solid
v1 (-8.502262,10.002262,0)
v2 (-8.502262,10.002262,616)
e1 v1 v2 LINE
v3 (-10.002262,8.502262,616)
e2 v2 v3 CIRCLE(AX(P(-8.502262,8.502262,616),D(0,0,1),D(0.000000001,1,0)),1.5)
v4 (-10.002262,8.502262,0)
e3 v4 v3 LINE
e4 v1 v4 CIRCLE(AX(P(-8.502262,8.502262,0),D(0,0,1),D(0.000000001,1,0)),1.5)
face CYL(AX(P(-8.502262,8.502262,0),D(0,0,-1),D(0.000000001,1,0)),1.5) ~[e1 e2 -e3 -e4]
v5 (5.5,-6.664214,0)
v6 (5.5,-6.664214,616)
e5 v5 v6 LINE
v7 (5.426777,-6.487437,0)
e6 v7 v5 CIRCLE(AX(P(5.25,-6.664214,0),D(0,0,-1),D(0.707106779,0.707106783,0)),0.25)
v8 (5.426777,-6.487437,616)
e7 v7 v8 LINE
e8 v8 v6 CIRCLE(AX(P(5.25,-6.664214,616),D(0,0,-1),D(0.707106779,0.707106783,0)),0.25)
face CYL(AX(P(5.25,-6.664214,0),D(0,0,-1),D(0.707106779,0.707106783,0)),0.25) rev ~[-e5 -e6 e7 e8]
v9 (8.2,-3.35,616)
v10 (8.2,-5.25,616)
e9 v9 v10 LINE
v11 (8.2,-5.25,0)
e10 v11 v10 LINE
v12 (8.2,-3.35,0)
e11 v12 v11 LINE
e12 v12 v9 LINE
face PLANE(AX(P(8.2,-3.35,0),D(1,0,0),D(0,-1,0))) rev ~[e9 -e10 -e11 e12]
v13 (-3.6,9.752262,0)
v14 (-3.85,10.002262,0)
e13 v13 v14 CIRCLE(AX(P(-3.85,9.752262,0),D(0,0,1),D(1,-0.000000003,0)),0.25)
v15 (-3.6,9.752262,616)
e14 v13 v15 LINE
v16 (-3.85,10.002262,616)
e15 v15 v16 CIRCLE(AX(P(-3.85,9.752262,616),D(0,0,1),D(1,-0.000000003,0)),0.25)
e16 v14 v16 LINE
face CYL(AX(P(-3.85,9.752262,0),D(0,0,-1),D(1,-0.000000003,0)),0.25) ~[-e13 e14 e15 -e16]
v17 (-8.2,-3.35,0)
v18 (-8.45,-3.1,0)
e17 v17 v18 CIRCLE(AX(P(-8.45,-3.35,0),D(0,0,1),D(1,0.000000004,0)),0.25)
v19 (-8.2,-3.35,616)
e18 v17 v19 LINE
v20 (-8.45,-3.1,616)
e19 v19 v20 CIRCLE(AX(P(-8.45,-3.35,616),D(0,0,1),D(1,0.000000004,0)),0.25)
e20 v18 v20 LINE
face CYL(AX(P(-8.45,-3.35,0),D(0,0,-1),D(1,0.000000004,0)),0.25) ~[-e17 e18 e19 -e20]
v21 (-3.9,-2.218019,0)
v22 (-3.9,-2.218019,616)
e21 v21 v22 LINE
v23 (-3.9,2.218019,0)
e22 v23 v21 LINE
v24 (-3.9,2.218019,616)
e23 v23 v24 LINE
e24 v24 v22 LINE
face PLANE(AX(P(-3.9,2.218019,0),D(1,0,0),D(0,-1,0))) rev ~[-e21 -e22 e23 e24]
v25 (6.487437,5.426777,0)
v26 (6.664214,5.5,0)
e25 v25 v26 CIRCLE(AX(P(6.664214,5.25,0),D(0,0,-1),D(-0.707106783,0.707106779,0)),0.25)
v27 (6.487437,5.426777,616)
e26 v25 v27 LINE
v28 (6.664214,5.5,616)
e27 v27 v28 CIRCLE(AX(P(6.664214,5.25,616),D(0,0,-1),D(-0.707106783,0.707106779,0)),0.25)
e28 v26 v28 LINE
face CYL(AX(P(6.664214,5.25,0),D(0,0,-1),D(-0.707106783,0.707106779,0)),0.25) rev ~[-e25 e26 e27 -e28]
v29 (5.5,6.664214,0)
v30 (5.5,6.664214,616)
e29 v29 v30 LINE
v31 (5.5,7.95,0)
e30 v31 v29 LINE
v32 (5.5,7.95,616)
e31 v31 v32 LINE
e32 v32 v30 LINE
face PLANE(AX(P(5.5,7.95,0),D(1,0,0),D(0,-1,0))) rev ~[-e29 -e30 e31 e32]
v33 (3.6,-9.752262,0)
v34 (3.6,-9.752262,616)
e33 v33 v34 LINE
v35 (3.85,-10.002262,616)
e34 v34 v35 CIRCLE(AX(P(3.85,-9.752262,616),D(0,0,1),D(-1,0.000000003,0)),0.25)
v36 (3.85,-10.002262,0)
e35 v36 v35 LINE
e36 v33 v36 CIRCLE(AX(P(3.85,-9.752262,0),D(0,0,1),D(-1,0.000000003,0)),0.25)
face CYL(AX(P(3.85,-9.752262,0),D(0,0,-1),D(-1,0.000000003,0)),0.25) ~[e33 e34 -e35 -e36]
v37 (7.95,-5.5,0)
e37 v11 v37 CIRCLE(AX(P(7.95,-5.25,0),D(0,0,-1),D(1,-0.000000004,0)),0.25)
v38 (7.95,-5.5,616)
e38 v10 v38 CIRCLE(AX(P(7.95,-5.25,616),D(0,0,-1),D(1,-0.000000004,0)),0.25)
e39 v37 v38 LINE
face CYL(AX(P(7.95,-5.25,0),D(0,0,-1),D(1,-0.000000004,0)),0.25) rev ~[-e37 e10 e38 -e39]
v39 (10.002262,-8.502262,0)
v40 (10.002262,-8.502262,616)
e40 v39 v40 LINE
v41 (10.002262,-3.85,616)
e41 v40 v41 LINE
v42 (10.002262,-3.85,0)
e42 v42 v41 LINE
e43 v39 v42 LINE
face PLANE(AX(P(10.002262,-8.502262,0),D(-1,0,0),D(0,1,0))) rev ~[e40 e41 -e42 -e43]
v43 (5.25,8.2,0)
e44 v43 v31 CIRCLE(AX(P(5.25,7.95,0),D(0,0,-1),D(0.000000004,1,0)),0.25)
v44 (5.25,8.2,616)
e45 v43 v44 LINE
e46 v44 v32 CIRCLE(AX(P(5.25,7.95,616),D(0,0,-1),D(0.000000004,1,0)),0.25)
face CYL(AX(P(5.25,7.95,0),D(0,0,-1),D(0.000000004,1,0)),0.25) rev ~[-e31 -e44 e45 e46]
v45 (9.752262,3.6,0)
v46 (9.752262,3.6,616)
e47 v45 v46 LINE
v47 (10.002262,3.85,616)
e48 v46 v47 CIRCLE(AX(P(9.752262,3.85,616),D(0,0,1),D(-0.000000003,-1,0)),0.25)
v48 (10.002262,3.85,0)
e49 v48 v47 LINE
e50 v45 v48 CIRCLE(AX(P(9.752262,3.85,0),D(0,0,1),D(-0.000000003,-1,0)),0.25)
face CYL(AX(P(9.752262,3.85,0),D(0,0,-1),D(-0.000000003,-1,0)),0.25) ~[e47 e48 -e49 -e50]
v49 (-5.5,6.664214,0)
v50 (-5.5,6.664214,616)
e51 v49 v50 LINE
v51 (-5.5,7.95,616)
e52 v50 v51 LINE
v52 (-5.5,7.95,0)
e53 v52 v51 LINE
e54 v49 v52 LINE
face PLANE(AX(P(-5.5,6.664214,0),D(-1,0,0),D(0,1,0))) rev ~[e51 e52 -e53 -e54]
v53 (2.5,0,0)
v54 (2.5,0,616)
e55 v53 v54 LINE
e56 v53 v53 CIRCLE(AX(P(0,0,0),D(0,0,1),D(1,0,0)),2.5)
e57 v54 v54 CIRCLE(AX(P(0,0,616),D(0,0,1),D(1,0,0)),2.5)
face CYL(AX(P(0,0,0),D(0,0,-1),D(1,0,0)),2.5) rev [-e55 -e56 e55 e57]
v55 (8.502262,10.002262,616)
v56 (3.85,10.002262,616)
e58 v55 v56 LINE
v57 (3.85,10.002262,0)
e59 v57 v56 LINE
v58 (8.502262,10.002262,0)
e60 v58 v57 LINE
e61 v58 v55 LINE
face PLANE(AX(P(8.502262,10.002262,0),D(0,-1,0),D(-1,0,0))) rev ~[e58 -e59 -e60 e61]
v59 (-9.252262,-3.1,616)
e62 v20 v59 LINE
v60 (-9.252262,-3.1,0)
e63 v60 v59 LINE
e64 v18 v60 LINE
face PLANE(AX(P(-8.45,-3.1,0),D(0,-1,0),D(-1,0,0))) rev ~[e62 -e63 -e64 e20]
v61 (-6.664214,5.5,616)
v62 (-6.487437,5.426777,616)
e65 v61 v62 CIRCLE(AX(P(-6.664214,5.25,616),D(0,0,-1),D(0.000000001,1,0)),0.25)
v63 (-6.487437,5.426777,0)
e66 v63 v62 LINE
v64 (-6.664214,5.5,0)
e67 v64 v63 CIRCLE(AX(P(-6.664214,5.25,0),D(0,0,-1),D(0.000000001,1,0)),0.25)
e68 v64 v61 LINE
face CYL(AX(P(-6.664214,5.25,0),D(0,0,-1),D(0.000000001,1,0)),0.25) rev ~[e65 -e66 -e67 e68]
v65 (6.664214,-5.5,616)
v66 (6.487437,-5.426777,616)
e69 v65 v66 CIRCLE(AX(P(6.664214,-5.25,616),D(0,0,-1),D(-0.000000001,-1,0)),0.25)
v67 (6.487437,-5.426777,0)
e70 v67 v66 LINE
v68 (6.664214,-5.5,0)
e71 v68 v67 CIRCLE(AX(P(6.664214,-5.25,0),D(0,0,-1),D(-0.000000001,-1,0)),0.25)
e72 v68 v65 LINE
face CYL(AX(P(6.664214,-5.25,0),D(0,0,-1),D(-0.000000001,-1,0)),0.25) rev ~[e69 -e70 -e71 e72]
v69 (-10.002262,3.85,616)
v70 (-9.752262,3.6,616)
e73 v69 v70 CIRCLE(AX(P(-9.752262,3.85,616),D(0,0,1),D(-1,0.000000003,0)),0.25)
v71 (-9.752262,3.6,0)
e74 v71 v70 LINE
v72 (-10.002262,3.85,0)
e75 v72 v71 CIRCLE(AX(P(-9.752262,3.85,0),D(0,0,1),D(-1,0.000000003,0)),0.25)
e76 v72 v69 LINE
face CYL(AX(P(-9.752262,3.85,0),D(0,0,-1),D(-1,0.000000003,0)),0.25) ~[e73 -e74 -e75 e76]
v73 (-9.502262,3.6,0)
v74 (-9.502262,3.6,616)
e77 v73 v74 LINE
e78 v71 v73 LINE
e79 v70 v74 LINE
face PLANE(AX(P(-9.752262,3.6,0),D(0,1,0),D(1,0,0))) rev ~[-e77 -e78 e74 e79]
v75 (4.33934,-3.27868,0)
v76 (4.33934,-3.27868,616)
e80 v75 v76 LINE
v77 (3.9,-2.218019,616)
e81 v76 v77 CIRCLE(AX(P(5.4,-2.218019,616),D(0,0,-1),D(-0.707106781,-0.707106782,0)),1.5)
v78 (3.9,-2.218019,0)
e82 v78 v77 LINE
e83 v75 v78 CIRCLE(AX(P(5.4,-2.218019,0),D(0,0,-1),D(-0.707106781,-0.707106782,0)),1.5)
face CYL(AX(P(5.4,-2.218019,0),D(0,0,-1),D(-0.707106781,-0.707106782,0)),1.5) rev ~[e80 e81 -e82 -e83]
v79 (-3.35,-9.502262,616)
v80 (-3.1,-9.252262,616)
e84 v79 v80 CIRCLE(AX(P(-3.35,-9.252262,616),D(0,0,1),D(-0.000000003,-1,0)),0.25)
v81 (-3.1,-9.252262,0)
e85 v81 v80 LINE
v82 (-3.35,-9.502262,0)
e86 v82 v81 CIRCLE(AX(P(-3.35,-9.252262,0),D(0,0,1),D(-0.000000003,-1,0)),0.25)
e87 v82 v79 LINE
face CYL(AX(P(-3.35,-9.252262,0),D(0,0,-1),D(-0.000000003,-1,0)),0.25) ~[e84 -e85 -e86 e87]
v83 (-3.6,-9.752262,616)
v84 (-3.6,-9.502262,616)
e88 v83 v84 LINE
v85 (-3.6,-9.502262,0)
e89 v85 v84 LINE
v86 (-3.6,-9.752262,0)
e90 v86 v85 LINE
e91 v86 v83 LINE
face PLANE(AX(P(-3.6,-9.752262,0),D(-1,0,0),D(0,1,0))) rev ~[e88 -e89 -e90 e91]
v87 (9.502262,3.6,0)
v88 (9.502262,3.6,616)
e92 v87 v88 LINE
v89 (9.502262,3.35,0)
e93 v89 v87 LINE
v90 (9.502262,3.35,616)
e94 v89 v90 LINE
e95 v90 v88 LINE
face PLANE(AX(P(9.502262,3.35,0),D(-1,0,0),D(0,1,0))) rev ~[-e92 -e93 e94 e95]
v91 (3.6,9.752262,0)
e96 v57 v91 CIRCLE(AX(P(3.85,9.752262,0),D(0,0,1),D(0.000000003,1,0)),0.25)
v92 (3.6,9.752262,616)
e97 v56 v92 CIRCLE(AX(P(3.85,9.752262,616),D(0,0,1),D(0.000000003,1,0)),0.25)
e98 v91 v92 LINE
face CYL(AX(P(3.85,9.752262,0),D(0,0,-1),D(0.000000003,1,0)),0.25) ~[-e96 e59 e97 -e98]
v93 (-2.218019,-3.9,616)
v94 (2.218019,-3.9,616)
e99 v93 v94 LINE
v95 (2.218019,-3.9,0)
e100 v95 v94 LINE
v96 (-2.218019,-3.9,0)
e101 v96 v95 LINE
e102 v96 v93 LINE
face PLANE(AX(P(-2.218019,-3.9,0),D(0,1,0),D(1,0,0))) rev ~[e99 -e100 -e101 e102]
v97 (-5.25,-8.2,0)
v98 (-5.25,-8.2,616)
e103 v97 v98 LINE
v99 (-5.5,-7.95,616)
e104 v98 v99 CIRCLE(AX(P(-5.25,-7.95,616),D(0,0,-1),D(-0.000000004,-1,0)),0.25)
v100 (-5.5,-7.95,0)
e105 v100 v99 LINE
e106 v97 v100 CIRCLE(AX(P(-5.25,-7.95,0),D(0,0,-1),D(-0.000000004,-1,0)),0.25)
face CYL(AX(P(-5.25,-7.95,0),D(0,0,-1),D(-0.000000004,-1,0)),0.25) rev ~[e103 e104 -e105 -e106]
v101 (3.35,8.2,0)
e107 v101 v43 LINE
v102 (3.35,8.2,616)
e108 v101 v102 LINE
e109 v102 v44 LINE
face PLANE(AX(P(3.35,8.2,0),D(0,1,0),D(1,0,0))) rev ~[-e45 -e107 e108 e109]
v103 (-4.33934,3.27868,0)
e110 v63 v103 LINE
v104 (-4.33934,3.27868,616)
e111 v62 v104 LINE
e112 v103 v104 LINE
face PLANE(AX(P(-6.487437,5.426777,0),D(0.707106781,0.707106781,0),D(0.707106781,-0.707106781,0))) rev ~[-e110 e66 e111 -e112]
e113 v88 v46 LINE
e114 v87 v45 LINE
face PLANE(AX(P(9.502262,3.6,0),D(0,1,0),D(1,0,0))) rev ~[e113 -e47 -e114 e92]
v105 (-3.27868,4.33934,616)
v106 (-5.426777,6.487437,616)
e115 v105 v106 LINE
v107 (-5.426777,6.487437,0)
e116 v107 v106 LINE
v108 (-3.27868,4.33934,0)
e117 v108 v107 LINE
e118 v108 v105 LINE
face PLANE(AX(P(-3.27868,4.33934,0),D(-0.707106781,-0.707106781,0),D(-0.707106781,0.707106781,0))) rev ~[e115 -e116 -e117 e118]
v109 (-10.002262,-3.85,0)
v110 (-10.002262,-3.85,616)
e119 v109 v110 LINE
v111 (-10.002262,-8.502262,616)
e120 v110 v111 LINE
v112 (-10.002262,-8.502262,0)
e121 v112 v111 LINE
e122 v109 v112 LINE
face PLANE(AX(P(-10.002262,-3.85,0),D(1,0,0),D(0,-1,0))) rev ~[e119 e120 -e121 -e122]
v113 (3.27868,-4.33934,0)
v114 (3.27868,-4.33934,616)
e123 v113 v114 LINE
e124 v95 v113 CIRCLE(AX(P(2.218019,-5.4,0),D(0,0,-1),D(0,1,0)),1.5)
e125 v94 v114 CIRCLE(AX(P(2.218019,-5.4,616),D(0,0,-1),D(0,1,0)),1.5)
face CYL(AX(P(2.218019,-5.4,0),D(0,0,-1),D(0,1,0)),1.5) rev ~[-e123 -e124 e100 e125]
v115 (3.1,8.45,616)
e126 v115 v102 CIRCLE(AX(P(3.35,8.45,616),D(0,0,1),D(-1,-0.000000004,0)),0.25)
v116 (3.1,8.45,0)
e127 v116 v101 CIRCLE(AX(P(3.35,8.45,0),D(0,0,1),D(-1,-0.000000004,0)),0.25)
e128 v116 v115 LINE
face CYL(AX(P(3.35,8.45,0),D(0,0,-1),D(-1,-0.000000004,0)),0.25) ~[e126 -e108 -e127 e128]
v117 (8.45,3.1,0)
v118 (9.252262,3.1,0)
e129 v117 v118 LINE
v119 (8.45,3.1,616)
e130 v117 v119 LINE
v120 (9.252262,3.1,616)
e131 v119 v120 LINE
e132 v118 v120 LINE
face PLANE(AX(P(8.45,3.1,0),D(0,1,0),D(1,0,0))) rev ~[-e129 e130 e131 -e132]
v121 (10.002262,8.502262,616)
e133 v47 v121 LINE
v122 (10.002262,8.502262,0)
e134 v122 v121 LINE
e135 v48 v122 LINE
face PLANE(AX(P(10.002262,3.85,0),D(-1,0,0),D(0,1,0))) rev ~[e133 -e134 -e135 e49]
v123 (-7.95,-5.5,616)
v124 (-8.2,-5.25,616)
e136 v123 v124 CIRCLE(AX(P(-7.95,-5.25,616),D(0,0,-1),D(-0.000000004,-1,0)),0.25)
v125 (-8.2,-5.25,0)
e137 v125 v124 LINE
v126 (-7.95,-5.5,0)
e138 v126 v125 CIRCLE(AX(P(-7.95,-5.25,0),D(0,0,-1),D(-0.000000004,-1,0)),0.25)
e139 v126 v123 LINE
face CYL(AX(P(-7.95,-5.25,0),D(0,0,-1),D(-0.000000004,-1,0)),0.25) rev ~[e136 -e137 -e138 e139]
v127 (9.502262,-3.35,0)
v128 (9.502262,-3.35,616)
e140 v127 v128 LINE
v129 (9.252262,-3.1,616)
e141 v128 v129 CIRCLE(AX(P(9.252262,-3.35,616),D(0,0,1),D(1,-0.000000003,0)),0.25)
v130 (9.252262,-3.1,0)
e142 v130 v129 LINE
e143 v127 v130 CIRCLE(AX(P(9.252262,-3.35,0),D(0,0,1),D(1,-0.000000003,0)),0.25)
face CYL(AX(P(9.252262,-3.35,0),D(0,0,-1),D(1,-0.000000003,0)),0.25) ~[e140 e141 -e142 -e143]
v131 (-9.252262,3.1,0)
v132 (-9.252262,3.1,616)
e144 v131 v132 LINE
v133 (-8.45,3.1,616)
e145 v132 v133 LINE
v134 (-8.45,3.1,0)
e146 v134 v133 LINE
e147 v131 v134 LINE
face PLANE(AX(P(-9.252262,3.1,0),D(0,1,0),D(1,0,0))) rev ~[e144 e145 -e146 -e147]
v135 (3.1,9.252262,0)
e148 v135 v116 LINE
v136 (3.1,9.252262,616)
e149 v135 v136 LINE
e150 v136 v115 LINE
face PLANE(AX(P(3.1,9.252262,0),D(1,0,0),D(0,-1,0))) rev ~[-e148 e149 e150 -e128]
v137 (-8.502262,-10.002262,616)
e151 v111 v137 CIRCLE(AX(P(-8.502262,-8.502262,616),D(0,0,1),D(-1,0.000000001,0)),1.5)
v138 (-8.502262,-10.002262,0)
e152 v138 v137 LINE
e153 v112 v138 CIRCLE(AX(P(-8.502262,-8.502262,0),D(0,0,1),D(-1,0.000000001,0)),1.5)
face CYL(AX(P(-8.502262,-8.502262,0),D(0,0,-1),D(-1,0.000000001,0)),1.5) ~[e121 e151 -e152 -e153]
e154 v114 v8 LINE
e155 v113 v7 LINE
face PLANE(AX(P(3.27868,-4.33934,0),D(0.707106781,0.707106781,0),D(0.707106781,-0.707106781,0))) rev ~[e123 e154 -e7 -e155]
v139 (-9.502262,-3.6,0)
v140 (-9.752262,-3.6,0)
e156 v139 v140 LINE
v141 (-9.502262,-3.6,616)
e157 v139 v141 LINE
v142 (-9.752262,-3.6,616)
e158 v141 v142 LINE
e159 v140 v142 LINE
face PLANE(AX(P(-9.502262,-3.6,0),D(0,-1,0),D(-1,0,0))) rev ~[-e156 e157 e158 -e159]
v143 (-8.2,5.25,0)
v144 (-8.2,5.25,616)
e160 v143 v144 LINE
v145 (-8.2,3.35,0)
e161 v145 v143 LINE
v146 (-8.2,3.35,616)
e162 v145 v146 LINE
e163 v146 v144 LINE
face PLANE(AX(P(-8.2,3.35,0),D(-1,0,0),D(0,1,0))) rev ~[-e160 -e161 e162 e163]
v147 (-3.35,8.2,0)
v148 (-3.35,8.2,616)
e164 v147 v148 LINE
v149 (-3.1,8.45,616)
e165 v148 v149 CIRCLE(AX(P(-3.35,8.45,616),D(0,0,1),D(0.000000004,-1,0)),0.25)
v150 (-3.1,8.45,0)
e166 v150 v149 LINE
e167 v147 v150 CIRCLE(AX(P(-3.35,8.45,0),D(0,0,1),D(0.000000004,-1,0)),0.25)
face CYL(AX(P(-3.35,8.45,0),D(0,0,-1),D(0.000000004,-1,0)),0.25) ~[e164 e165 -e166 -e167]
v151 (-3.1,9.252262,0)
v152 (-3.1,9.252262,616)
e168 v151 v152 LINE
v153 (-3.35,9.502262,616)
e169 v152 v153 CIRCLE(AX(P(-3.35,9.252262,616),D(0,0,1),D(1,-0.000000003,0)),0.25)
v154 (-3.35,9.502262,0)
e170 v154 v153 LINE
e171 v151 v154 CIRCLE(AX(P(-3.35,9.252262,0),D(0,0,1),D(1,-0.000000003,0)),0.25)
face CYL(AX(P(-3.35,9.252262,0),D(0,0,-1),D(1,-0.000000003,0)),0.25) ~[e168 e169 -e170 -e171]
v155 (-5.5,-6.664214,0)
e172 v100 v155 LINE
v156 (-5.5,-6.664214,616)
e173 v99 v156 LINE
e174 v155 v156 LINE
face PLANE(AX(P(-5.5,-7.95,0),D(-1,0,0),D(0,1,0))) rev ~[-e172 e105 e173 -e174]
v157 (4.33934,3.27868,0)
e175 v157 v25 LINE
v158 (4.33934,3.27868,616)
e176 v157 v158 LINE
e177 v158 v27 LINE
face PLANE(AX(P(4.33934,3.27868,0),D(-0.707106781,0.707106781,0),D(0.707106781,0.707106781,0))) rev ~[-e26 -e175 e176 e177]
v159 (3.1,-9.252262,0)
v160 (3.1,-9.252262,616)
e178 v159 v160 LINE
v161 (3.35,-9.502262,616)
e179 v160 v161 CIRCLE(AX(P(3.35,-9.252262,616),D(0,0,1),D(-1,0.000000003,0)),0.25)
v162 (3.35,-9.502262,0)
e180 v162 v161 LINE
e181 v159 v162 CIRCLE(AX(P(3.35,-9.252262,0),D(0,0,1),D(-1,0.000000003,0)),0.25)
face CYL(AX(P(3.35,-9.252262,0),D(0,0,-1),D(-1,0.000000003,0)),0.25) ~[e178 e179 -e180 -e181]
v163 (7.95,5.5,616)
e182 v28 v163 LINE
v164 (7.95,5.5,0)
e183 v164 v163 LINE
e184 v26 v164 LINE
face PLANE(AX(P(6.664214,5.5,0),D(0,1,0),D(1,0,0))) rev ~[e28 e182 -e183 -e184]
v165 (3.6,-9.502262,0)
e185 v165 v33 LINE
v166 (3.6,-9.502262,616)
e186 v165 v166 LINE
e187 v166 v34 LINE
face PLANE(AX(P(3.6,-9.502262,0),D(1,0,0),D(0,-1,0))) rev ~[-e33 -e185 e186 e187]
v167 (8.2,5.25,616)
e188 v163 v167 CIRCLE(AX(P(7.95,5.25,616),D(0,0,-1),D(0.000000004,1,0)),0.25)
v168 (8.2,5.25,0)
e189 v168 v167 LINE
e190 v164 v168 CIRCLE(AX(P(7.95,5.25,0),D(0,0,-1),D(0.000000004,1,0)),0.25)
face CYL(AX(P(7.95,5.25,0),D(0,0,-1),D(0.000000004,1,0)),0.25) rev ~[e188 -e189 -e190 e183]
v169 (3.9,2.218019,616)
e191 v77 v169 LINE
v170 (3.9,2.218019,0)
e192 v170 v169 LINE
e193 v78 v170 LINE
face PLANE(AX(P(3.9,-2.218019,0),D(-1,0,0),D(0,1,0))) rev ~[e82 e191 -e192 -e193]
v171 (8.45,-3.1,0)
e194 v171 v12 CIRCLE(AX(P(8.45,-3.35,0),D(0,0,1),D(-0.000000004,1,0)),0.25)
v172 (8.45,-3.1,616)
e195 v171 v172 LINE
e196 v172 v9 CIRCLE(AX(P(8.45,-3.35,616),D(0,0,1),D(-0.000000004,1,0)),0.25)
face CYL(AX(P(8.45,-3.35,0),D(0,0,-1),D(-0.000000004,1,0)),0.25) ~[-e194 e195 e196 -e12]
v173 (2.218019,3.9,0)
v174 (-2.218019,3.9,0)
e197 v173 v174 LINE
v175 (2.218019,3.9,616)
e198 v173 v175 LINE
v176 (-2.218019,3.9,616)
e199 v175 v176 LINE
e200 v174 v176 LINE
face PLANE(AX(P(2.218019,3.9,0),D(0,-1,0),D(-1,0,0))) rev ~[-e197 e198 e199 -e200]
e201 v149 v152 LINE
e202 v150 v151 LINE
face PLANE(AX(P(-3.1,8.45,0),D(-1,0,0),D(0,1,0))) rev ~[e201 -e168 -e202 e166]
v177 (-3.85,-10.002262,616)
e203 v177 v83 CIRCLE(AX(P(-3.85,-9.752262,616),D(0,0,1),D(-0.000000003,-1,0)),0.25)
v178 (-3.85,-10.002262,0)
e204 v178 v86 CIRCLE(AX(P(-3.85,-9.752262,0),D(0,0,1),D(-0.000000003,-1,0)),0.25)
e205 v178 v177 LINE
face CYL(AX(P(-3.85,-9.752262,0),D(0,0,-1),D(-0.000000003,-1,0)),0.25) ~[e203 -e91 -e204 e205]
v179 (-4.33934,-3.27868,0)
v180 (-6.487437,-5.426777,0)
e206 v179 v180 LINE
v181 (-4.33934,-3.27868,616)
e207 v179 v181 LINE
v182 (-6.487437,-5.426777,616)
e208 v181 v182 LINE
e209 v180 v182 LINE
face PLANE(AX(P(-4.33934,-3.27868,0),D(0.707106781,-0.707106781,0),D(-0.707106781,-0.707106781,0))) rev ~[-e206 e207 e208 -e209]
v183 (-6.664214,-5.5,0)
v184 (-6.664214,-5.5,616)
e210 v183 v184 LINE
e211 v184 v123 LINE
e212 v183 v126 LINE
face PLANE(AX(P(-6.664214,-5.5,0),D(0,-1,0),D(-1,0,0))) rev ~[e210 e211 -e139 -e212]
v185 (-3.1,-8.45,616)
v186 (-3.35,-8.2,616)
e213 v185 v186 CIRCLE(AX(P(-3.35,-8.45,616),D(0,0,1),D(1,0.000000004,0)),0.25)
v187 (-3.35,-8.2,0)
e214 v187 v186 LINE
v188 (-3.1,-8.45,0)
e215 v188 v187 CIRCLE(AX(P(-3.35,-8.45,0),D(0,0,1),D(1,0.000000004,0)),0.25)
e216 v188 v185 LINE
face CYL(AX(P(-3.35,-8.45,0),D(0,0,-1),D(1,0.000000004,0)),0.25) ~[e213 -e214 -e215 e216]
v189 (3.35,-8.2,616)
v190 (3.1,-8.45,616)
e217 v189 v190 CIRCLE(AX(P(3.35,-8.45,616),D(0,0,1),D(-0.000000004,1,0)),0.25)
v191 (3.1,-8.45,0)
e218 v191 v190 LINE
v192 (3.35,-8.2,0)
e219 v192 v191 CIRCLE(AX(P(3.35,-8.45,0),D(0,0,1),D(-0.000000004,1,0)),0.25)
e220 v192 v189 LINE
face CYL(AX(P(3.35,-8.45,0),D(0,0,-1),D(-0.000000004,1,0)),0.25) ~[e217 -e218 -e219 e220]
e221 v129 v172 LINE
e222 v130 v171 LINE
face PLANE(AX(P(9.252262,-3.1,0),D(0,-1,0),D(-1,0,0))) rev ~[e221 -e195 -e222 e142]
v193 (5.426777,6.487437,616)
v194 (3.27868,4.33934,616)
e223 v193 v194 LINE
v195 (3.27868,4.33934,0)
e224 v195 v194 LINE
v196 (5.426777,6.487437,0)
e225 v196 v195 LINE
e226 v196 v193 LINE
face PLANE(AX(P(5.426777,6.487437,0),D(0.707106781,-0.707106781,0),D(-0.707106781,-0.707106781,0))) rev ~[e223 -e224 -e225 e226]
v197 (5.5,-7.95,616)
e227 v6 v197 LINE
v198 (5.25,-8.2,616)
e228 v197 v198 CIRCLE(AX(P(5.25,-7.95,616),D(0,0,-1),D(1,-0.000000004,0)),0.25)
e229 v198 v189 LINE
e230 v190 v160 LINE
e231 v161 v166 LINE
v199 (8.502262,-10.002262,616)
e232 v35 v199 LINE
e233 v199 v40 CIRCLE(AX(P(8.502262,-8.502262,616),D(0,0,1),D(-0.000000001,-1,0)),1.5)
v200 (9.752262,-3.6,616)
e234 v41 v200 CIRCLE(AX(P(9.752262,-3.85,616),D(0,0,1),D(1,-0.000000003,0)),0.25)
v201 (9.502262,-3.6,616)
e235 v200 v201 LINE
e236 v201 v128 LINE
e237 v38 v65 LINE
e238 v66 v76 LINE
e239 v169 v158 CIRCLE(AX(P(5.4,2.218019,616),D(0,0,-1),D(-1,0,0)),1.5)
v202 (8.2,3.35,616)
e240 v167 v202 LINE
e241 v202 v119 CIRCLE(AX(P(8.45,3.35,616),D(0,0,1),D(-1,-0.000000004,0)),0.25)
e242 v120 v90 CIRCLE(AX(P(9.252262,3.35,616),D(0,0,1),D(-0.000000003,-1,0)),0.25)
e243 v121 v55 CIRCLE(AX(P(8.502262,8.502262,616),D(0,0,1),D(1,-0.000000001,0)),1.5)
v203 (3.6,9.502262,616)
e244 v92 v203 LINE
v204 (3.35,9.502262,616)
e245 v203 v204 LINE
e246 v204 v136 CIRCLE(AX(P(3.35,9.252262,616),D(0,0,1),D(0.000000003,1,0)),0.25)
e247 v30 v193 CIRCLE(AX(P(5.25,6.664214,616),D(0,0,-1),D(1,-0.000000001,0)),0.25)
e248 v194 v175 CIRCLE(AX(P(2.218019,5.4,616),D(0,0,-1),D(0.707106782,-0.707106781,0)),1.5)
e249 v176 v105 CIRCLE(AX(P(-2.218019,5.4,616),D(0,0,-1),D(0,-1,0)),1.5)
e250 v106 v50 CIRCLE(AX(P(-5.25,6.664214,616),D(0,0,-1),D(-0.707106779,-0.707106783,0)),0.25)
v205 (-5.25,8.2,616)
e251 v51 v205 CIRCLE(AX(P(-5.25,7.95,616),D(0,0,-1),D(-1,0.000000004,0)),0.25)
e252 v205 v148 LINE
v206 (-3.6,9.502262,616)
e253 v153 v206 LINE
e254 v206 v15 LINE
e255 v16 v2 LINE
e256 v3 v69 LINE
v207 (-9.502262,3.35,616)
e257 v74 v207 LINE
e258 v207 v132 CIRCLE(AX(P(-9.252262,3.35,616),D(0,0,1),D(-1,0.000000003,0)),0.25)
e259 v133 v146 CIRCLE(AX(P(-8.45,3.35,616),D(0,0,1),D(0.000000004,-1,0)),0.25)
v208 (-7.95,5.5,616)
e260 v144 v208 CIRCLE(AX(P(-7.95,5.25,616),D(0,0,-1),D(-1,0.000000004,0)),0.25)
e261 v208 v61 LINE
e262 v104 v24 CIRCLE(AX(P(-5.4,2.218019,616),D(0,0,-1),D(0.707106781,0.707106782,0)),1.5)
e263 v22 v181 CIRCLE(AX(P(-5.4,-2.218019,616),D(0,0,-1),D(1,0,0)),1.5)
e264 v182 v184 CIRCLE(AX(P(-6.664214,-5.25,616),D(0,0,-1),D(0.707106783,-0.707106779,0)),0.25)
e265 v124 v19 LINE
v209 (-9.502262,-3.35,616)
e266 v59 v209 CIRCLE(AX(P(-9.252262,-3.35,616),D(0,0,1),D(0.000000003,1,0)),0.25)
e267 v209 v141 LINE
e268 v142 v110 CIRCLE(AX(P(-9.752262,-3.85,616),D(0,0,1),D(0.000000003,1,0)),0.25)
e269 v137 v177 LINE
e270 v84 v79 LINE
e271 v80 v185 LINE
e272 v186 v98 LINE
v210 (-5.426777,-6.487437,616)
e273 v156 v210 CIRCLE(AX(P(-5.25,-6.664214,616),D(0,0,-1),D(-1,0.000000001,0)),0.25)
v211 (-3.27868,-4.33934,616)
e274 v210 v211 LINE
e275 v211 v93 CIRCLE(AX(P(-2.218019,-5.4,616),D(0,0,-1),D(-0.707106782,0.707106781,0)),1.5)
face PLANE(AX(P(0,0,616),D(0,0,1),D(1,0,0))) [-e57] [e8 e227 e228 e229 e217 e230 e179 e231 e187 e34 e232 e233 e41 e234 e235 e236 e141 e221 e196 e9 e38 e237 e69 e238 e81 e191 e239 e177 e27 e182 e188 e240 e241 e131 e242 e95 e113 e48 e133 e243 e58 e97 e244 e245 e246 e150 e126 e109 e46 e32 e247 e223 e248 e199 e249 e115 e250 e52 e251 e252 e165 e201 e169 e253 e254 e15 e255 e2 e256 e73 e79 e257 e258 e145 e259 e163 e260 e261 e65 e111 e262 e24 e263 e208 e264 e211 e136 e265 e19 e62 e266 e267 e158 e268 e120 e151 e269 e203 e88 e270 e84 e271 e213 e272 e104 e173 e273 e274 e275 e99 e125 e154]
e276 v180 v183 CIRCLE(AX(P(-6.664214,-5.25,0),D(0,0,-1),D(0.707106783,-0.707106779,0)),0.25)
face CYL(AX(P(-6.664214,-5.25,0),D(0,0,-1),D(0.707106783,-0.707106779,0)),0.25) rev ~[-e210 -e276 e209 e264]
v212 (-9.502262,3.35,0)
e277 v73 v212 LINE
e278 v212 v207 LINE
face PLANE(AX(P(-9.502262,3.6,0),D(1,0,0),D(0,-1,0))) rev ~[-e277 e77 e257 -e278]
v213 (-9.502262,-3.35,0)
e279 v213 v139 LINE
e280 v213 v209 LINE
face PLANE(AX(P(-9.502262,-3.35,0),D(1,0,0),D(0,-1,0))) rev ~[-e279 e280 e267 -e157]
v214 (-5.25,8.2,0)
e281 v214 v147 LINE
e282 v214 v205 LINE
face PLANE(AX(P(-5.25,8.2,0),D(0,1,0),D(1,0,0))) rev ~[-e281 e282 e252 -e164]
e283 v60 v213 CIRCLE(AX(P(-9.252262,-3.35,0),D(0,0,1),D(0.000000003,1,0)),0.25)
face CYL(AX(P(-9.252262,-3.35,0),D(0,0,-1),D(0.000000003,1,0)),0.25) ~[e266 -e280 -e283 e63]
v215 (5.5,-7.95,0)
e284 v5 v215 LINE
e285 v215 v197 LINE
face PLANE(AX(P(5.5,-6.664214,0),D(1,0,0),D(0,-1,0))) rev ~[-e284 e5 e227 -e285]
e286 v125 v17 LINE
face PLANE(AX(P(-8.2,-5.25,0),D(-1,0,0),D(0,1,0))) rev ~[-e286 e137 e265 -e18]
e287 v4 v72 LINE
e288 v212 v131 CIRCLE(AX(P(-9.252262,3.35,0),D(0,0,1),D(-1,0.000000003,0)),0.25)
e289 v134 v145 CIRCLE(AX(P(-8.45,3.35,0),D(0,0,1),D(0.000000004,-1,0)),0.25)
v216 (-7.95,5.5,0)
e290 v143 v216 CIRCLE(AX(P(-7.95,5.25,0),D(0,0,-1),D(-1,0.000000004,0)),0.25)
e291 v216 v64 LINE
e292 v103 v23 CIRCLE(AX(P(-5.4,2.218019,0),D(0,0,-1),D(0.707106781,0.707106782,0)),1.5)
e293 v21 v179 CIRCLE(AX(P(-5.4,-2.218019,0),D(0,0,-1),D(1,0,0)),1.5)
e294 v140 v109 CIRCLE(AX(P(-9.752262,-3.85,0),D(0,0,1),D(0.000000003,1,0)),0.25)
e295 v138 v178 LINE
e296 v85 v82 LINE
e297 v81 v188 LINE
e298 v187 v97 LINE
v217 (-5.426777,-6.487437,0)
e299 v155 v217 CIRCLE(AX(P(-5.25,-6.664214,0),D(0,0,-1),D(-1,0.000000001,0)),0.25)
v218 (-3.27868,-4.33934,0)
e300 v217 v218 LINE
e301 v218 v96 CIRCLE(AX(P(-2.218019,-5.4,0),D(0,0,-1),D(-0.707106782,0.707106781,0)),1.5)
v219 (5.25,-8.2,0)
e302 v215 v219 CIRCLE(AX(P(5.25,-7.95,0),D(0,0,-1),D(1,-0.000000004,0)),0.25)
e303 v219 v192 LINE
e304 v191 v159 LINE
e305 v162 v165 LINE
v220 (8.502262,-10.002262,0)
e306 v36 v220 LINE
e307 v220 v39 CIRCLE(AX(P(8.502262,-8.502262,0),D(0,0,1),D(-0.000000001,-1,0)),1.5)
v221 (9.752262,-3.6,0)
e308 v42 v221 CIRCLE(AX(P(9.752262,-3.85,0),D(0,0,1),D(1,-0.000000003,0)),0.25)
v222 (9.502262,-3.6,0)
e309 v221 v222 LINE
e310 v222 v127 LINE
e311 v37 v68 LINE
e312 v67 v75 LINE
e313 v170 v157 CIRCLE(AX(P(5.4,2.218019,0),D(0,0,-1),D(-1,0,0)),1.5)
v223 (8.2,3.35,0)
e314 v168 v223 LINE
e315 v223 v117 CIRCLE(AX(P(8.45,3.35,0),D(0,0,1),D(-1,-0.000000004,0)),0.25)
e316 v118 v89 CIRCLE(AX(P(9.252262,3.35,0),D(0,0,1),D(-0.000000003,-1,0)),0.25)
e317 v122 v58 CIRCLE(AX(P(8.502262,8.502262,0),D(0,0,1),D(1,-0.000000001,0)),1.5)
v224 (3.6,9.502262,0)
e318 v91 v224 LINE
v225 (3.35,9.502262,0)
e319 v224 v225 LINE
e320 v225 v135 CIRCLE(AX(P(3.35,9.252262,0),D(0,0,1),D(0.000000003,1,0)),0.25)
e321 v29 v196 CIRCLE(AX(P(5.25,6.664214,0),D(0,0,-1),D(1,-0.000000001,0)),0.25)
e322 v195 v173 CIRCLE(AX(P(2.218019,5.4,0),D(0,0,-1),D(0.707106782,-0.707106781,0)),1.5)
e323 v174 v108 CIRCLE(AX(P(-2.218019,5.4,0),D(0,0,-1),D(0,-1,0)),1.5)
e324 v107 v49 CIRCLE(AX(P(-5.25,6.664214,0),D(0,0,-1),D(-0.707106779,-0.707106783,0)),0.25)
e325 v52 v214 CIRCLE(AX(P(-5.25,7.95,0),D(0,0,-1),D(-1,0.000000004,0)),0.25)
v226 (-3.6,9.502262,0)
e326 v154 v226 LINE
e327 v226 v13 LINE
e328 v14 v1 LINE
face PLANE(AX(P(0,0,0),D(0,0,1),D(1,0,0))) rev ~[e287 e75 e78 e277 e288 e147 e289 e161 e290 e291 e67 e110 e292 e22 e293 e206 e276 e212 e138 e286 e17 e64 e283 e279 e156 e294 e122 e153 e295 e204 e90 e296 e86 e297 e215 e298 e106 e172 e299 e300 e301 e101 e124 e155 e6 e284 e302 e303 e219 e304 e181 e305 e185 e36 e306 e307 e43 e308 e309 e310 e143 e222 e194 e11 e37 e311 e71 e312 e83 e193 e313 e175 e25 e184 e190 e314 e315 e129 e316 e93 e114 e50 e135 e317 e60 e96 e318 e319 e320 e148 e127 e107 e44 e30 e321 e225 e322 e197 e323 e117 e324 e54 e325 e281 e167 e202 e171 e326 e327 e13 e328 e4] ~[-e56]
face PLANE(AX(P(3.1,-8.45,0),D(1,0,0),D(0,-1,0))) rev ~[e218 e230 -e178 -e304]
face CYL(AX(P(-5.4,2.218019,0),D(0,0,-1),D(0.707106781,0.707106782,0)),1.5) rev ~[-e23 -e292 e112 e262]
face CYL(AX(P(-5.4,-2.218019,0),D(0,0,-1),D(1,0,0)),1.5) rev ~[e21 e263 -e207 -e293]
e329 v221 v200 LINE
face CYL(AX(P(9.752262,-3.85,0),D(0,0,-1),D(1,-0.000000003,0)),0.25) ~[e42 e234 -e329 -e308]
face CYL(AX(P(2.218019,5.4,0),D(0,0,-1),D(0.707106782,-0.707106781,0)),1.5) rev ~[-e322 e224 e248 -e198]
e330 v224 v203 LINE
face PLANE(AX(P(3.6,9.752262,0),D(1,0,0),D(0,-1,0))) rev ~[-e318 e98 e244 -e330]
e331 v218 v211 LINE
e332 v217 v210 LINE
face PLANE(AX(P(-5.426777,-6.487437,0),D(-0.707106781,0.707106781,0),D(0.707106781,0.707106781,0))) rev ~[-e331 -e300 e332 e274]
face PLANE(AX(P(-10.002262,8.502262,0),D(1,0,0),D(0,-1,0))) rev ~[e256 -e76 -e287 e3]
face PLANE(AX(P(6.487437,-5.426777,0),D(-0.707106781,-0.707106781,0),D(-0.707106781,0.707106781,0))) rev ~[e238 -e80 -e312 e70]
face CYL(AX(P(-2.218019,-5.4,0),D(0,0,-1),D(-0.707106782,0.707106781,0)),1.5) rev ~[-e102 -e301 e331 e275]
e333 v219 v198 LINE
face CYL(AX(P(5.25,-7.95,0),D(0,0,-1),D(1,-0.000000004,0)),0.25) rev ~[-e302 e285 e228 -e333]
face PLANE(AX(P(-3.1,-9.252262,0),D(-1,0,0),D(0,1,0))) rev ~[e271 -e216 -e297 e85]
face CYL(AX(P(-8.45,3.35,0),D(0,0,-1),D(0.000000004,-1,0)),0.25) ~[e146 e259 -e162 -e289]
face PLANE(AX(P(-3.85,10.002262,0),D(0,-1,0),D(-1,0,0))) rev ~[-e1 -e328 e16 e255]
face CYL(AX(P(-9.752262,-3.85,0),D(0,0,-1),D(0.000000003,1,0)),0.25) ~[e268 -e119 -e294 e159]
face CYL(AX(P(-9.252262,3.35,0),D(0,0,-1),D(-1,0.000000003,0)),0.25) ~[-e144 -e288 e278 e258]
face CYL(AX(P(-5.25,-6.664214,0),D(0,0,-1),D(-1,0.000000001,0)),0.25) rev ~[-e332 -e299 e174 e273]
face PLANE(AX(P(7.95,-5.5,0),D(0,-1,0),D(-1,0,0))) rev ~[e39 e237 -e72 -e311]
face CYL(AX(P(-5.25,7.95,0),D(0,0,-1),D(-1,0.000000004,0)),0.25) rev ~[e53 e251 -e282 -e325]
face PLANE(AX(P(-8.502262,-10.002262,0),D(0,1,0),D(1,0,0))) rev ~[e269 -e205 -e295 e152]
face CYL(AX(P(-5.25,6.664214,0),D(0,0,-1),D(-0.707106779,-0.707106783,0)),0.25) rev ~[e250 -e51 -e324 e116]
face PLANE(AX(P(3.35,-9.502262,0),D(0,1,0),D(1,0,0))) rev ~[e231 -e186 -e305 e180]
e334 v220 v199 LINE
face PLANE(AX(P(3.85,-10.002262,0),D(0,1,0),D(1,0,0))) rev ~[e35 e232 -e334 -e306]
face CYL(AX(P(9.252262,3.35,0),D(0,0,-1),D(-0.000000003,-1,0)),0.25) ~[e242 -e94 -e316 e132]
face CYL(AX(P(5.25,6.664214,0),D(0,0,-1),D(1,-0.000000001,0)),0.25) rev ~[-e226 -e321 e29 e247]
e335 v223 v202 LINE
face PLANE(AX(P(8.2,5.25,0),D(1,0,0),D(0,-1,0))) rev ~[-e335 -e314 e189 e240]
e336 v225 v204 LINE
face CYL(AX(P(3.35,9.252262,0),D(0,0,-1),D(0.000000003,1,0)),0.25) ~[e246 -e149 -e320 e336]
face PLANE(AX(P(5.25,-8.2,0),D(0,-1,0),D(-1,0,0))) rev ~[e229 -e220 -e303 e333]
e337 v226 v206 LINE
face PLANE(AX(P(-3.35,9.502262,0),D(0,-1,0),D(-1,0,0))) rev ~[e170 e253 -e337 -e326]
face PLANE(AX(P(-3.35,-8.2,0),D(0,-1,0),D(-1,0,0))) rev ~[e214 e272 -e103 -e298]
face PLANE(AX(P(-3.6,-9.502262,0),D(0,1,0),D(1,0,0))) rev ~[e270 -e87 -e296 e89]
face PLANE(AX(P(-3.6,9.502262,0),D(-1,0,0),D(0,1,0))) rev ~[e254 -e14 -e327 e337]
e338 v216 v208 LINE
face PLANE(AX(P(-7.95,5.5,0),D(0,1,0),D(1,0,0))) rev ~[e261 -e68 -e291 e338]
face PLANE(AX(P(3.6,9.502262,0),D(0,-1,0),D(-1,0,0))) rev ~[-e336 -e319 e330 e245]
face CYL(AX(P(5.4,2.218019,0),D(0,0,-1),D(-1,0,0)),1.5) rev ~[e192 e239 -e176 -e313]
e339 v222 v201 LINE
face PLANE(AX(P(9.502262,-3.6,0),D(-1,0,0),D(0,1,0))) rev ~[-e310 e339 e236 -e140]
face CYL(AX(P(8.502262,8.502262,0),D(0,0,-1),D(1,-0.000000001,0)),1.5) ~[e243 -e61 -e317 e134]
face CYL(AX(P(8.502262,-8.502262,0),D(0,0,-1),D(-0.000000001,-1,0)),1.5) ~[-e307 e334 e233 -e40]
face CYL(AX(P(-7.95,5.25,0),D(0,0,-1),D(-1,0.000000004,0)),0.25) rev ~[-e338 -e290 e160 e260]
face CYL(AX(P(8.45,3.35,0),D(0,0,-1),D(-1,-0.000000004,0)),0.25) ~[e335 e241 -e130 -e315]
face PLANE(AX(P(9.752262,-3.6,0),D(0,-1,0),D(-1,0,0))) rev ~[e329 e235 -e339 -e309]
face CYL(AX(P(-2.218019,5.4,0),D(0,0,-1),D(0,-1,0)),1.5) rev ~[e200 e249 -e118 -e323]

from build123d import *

# Parameters (mm, degrees)
SKETCH_1_R      = 2.5
EXTRUDE_1_DEPTH = 616


with BuildPart() as part:
    # 草图1 → 凸台-拉伸1 (new body)
    with BuildSketch(Plane.XY):
        with BuildLine():
            Line((-8.502261885, -10.002261885), (-3.85, -10.002261885))
            ThreePointArc((-3.85, -10.002261885), (-3.673223305, -9.929038581), (-3.6, -9.752261885))
            Line((-3.6, -9.752261885), (-3.6, -9.502261885))
            Line((-3.6, -9.502261885), (-3.35, -9.502261885))
            ThreePointArc((-3.35, -9.502261885), (-3.173223305, -9.429038581), (-3.1, -9.252261885))
            Line((-3.1, -9.252261885), (-3.1, -8.45))
            ThreePointArc((-3.1, -8.45), (-3.173223305, -8.273223305), (-3.35, -8.2))
            Line((-3.35, -8.2), (-5.25, -8.2))
            ThreePointArc((-5.25, -8.2), (-5.426776695, -8.126776695), (-5.5, -7.95))
            Line((-5.5, -7.95), (-5.5, -6.664213562))
            ThreePointArc((-5.5, -6.664213562), (-5.480969883, -6.568542704), (-5.426776695, -6.487436867))
            Line((-5.426776695, -6.487436867), (-3.278679656, -4.339339828))
            ThreePointArc((-3.278679656, -4.339339828), (-2.792044633, -4.014180701), (-2.218019485, -3.9))
            Line((-2.218019485, -3.9), (2.218019485, -3.9))
            ThreePointArc((2.218019485, -3.9), (2.792044633, -4.014180701), (3.278679656, -4.339339828))
            Line((3.278679656, -4.339339828), (5.426776695, -6.487436867))
            ThreePointArc((5.426776695, -6.487436867), (5.480969883, -6.568542704), (5.5, -6.664213562))
            Line((5.5, -6.664213562), (5.5, -7.95))
            ThreePointArc((5.5, -7.95), (5.426776695, -8.126776695), (5.25, -8.2))
            Line((5.25, -8.2), (3.35, -8.2))
            ThreePointArc((3.35, -8.2), (3.173223305, -8.273223305), (3.1, -8.45))
            Line((3.1, -8.45), (3.1, -9.252261885))
            ThreePointArc((3.1, -9.252261885), (3.173223305, -9.429038581), (3.35, -9.502261885))
            Line((3.35, -9.502261885), (3.6, -9.502261885))
            Line((3.6, -9.502261885), (3.6, -9.752261885))
            ThreePointArc((3.6, -9.752261885), (3.673223305, -9.929038581), (3.85, -10.002261885))
            Line((3.85, -10.002261885), (8.502261885, -10.002261885))
            ThreePointArc((8.502261885, -10.002261885), (9.562922057, -9.562922057), (10.002261885, -8.502261885))
            Line((10.002261885, -8.502261885), (10.002261885, -3.85))
            ThreePointArc((10.002261885, -3.85), (9.929038581, -3.673223305), (9.752261885, -3.6))
            Line((9.752261885, -3.6), (9.502261885, -3.6))
            Line((9.502261885, -3.6), (9.502261885, -3.35))
            ThreePointArc((9.502261885, -3.35), (9.429038581, -3.173223305), (9.252261885, -3.1))
            Line((9.252261885, -3.1), (8.45, -3.1))
            ThreePointArc((8.45, -3.1), (8.273223305, -3.173223305), (8.2, -3.35))
            Line((8.2, -3.35), (8.2, -5.25))
            ThreePointArc((8.2, -5.25), (8.126776695, -5.426776695), (7.95, -5.5))
            Line((7.95, -5.5), (6.664213562, -5.5))
            ThreePointArc((6.664213562, -5.5), (6.568542704, -5.480969883), (6.487436867, -5.426776695))
            Line((6.487436867, -5.426776695), (4.339339828, -3.278679656))
            ThreePointArc((4.339339828, -3.278679656), (4.014180701, -2.792044633), (3.9, -2.218019485))
            Line((3.9, -2.218019485), (3.9, 2.218019485))
            ThreePointArc((3.9, 2.218019485), (4.014180701, 2.792044633), (4.339339828, 3.278679656))
            Line((4.339339828, 3.278679656), (6.487436867, 5.426776695))
            ThreePointArc((6.487436867, 5.426776695), (6.568542704, 5.480969883), (6.664213562, 5.5))
            Line((6.664213562, 5.5), (7.95, 5.5))
            ThreePointArc((7.95, 5.5), (8.126776695, 5.426776695), (8.2, 5.25))
            Line((8.2, 5.25), (8.2, 3.35))
            ThreePointArc((8.2, 3.35), (8.273223305, 3.173223305), (8.45, 3.1))
            Line((8.45, 3.1), (9.252261885, 3.1))
            ThreePointArc((9.252261885, 3.1), (9.429038581, 3.173223305), (9.502261885, 3.35))
            Line((9.502261885, 3.35), (9.502261885, 3.6))
            Line((9.502261885, 3.6), (9.752261885, 3.6))
            ThreePointArc((9.752261885, 3.6), (9.929038581, 3.673223305), (10.002261885, 3.85))
            Line((10.002261885, 3.85), (10.002261885, 8.502261885))
            ThreePointArc((10.002261885, 8.502261885), (9.562922057, 9.562922057), (8.502261885, 10.002261885))
            Line((8.502261885, 10.002261885), (3.85, 10.002261885))
            ThreePointArc((3.85, 10.002261885), (3.673223305, 9.929038581), (3.6, 9.752261885))
            Line((3.6, 9.752261885), (3.6, 9.502261885))
            Line((3.6, 9.502261885), (3.35, 9.502261885))
            ThreePointArc((3.35, 9.502261885), (3.173223305, 9.429038581), (3.1, 9.252261885))
            Line((3.1, 9.252261885), (3.1, 8.45))
            ThreePointArc((3.1, 8.45), (3.173223305, 8.273223305), (3.35, 8.2))
            Line((3.35, 8.2), (5.25, 8.2))
            ThreePointArc((5.25, 8.2), (5.426776695, 8.126776695), (5.5, 7.95))
            Line((5.5, 7.95), (5.5, 6.664213562))
            ThreePointArc((5.5, 6.664213562), (5.480969883, 6.568542704), (5.426776695, 6.487436867))
            Line((5.426776695, 6.487436867), (3.278679656, 4.339339828))
            ThreePointArc((3.278679656, 4.339339828), (2.792044633, 4.014180701), (2.218019485, 3.9))
            Line((2.218019485, 3.9), (-2.218019485, 3.9))
            ThreePointArc((-2.218019485, 3.9), (-2.792044633, 4.014180701), (-3.278679656, 4.339339828))
            Line((-3.278679656, 4.339339828), (-5.426776695, 6.487436867))
            ThreePointArc((-5.426776695, 6.487436867), (-5.480969883, 6.568542704), (-5.5, 6.664213562))
            Line((-5.5, 6.664213562), (-5.5, 7.95))
            ThreePointArc((-5.5, 7.95), (-5.426776695, 8.126776695), (-5.25, 8.2))
            Line((-5.25, 8.2), (-3.35, 8.2))
            ThreePointArc((-3.35, 8.2), (-3.173223305, 8.273223305), (-3.1, 8.45))
            Line((-3.1, 8.45), (-3.1, 9.252261885))
            ThreePointArc((-3.1, 9.252261885), (-3.173223305, 9.429038581), (-3.35, 9.502261885))
            Line((-3.35, 9.502261885), (-3.6, 9.502261885))
            Line((-3.6, 9.502261885), (-3.6, 9.752261885))
            ThreePointArc((-3.6, 9.752261885), (-3.673223305, 9.929038581), (-3.85, 10.002261885))
            Line((-3.85, 10.002261885), (-8.502261885, 10.002261885))
            ThreePointArc((-8.502261885, 10.002261885), (-9.562922057, 9.562922057), (-10.002261885, 8.502261885))
            Line((-10.002261885, 8.502261885), (-10.002261885, 3.85))
            ThreePointArc((-10.002261885, 3.85), (-9.929038581, 3.673223305), (-9.752261885, 3.6))
            Line((-9.752261885, 3.6), (-9.502261885, 3.6))
            Line((-9.502261885, 3.6), (-9.502261885, 3.35))
            ThreePointArc((-9.502261885, 3.35), (-9.429038581, 3.173223305), (-9.252261885, 3.1))
            Line((-9.252261885, 3.1), (-8.45, 3.1))
            ThreePointArc((-8.45, 3.1), (-8.273223305, 3.173223305), (-8.2, 3.35))
            Line((-8.2, 3.35), (-8.2, 5.25))
            ThreePointArc((-8.2, 5.25), (-8.126776695, 5.426776695), (-7.95, 5.5))
            Line((-7.95, 5.5), (-6.664213562, 5.5))
            ThreePointArc((-6.664213562, 5.5), (-6.568542704, 5.480969883), (-6.487436867, 5.426776695))
            Line((-6.487436867, 5.426776695), (-4.339339828, 3.278679656))
            ThreePointArc((-4.339339828, 3.278679656), (-4.014180701, 2.792044633), (-3.9, 2.218019485))
            Line((-3.9, 2.218019485), (-3.9, -2.218019485))
            ThreePointArc((-3.9, -2.218019485), (-4.014180701, -2.792044633), (-4.339339828, -3.278679656))
            Line((-4.339339828, -3.278679656), (-6.487436867, -5.426776695))
            ThreePointArc((-6.487436867, -5.426776695), (-6.568542704, -5.480969883), (-6.664213562, -5.5))
            Line((-6.664213562, -5.5), (-7.95, -5.5))
            ThreePointArc((-7.95, -5.5), (-8.126776695, -5.426776695), (-8.2, -5.25))
            Line((-8.2, -5.25), (-8.2, -3.35))
            ThreePointArc((-8.2, -3.35), (-8.273223305, -3.173223305), (-8.45, -3.1))
            Line((-8.45, -3.1), (-9.252261885, -3.1))
            ThreePointArc((-9.252261885, -3.1), (-9.429038581, -3.173223305), (-9.502261885, -3.35))
            Line((-9.502261885, -3.35), (-9.502261885, -3.6))
            Line((-9.502261885, -3.6), (-9.752261885, -3.6))
            ThreePointArc((-9.752261885, -3.6), (-9.929038581, -3.673223305), (-10.002261885, -3.85))
            Line((-10.002261885, -3.85), (-10.002261885, -8.502261885))
            ThreePointArc((-10.002261885, -8.502261885), (-9.562922057, -9.562922057), (-8.502261885, -10.002261885))
        make_face()
        Circle(SKETCH_1_R, mode=Mode.SUBTRACT)
    extrude(amount=EXTRUDE_1_DEPTH)


solid = part.part
